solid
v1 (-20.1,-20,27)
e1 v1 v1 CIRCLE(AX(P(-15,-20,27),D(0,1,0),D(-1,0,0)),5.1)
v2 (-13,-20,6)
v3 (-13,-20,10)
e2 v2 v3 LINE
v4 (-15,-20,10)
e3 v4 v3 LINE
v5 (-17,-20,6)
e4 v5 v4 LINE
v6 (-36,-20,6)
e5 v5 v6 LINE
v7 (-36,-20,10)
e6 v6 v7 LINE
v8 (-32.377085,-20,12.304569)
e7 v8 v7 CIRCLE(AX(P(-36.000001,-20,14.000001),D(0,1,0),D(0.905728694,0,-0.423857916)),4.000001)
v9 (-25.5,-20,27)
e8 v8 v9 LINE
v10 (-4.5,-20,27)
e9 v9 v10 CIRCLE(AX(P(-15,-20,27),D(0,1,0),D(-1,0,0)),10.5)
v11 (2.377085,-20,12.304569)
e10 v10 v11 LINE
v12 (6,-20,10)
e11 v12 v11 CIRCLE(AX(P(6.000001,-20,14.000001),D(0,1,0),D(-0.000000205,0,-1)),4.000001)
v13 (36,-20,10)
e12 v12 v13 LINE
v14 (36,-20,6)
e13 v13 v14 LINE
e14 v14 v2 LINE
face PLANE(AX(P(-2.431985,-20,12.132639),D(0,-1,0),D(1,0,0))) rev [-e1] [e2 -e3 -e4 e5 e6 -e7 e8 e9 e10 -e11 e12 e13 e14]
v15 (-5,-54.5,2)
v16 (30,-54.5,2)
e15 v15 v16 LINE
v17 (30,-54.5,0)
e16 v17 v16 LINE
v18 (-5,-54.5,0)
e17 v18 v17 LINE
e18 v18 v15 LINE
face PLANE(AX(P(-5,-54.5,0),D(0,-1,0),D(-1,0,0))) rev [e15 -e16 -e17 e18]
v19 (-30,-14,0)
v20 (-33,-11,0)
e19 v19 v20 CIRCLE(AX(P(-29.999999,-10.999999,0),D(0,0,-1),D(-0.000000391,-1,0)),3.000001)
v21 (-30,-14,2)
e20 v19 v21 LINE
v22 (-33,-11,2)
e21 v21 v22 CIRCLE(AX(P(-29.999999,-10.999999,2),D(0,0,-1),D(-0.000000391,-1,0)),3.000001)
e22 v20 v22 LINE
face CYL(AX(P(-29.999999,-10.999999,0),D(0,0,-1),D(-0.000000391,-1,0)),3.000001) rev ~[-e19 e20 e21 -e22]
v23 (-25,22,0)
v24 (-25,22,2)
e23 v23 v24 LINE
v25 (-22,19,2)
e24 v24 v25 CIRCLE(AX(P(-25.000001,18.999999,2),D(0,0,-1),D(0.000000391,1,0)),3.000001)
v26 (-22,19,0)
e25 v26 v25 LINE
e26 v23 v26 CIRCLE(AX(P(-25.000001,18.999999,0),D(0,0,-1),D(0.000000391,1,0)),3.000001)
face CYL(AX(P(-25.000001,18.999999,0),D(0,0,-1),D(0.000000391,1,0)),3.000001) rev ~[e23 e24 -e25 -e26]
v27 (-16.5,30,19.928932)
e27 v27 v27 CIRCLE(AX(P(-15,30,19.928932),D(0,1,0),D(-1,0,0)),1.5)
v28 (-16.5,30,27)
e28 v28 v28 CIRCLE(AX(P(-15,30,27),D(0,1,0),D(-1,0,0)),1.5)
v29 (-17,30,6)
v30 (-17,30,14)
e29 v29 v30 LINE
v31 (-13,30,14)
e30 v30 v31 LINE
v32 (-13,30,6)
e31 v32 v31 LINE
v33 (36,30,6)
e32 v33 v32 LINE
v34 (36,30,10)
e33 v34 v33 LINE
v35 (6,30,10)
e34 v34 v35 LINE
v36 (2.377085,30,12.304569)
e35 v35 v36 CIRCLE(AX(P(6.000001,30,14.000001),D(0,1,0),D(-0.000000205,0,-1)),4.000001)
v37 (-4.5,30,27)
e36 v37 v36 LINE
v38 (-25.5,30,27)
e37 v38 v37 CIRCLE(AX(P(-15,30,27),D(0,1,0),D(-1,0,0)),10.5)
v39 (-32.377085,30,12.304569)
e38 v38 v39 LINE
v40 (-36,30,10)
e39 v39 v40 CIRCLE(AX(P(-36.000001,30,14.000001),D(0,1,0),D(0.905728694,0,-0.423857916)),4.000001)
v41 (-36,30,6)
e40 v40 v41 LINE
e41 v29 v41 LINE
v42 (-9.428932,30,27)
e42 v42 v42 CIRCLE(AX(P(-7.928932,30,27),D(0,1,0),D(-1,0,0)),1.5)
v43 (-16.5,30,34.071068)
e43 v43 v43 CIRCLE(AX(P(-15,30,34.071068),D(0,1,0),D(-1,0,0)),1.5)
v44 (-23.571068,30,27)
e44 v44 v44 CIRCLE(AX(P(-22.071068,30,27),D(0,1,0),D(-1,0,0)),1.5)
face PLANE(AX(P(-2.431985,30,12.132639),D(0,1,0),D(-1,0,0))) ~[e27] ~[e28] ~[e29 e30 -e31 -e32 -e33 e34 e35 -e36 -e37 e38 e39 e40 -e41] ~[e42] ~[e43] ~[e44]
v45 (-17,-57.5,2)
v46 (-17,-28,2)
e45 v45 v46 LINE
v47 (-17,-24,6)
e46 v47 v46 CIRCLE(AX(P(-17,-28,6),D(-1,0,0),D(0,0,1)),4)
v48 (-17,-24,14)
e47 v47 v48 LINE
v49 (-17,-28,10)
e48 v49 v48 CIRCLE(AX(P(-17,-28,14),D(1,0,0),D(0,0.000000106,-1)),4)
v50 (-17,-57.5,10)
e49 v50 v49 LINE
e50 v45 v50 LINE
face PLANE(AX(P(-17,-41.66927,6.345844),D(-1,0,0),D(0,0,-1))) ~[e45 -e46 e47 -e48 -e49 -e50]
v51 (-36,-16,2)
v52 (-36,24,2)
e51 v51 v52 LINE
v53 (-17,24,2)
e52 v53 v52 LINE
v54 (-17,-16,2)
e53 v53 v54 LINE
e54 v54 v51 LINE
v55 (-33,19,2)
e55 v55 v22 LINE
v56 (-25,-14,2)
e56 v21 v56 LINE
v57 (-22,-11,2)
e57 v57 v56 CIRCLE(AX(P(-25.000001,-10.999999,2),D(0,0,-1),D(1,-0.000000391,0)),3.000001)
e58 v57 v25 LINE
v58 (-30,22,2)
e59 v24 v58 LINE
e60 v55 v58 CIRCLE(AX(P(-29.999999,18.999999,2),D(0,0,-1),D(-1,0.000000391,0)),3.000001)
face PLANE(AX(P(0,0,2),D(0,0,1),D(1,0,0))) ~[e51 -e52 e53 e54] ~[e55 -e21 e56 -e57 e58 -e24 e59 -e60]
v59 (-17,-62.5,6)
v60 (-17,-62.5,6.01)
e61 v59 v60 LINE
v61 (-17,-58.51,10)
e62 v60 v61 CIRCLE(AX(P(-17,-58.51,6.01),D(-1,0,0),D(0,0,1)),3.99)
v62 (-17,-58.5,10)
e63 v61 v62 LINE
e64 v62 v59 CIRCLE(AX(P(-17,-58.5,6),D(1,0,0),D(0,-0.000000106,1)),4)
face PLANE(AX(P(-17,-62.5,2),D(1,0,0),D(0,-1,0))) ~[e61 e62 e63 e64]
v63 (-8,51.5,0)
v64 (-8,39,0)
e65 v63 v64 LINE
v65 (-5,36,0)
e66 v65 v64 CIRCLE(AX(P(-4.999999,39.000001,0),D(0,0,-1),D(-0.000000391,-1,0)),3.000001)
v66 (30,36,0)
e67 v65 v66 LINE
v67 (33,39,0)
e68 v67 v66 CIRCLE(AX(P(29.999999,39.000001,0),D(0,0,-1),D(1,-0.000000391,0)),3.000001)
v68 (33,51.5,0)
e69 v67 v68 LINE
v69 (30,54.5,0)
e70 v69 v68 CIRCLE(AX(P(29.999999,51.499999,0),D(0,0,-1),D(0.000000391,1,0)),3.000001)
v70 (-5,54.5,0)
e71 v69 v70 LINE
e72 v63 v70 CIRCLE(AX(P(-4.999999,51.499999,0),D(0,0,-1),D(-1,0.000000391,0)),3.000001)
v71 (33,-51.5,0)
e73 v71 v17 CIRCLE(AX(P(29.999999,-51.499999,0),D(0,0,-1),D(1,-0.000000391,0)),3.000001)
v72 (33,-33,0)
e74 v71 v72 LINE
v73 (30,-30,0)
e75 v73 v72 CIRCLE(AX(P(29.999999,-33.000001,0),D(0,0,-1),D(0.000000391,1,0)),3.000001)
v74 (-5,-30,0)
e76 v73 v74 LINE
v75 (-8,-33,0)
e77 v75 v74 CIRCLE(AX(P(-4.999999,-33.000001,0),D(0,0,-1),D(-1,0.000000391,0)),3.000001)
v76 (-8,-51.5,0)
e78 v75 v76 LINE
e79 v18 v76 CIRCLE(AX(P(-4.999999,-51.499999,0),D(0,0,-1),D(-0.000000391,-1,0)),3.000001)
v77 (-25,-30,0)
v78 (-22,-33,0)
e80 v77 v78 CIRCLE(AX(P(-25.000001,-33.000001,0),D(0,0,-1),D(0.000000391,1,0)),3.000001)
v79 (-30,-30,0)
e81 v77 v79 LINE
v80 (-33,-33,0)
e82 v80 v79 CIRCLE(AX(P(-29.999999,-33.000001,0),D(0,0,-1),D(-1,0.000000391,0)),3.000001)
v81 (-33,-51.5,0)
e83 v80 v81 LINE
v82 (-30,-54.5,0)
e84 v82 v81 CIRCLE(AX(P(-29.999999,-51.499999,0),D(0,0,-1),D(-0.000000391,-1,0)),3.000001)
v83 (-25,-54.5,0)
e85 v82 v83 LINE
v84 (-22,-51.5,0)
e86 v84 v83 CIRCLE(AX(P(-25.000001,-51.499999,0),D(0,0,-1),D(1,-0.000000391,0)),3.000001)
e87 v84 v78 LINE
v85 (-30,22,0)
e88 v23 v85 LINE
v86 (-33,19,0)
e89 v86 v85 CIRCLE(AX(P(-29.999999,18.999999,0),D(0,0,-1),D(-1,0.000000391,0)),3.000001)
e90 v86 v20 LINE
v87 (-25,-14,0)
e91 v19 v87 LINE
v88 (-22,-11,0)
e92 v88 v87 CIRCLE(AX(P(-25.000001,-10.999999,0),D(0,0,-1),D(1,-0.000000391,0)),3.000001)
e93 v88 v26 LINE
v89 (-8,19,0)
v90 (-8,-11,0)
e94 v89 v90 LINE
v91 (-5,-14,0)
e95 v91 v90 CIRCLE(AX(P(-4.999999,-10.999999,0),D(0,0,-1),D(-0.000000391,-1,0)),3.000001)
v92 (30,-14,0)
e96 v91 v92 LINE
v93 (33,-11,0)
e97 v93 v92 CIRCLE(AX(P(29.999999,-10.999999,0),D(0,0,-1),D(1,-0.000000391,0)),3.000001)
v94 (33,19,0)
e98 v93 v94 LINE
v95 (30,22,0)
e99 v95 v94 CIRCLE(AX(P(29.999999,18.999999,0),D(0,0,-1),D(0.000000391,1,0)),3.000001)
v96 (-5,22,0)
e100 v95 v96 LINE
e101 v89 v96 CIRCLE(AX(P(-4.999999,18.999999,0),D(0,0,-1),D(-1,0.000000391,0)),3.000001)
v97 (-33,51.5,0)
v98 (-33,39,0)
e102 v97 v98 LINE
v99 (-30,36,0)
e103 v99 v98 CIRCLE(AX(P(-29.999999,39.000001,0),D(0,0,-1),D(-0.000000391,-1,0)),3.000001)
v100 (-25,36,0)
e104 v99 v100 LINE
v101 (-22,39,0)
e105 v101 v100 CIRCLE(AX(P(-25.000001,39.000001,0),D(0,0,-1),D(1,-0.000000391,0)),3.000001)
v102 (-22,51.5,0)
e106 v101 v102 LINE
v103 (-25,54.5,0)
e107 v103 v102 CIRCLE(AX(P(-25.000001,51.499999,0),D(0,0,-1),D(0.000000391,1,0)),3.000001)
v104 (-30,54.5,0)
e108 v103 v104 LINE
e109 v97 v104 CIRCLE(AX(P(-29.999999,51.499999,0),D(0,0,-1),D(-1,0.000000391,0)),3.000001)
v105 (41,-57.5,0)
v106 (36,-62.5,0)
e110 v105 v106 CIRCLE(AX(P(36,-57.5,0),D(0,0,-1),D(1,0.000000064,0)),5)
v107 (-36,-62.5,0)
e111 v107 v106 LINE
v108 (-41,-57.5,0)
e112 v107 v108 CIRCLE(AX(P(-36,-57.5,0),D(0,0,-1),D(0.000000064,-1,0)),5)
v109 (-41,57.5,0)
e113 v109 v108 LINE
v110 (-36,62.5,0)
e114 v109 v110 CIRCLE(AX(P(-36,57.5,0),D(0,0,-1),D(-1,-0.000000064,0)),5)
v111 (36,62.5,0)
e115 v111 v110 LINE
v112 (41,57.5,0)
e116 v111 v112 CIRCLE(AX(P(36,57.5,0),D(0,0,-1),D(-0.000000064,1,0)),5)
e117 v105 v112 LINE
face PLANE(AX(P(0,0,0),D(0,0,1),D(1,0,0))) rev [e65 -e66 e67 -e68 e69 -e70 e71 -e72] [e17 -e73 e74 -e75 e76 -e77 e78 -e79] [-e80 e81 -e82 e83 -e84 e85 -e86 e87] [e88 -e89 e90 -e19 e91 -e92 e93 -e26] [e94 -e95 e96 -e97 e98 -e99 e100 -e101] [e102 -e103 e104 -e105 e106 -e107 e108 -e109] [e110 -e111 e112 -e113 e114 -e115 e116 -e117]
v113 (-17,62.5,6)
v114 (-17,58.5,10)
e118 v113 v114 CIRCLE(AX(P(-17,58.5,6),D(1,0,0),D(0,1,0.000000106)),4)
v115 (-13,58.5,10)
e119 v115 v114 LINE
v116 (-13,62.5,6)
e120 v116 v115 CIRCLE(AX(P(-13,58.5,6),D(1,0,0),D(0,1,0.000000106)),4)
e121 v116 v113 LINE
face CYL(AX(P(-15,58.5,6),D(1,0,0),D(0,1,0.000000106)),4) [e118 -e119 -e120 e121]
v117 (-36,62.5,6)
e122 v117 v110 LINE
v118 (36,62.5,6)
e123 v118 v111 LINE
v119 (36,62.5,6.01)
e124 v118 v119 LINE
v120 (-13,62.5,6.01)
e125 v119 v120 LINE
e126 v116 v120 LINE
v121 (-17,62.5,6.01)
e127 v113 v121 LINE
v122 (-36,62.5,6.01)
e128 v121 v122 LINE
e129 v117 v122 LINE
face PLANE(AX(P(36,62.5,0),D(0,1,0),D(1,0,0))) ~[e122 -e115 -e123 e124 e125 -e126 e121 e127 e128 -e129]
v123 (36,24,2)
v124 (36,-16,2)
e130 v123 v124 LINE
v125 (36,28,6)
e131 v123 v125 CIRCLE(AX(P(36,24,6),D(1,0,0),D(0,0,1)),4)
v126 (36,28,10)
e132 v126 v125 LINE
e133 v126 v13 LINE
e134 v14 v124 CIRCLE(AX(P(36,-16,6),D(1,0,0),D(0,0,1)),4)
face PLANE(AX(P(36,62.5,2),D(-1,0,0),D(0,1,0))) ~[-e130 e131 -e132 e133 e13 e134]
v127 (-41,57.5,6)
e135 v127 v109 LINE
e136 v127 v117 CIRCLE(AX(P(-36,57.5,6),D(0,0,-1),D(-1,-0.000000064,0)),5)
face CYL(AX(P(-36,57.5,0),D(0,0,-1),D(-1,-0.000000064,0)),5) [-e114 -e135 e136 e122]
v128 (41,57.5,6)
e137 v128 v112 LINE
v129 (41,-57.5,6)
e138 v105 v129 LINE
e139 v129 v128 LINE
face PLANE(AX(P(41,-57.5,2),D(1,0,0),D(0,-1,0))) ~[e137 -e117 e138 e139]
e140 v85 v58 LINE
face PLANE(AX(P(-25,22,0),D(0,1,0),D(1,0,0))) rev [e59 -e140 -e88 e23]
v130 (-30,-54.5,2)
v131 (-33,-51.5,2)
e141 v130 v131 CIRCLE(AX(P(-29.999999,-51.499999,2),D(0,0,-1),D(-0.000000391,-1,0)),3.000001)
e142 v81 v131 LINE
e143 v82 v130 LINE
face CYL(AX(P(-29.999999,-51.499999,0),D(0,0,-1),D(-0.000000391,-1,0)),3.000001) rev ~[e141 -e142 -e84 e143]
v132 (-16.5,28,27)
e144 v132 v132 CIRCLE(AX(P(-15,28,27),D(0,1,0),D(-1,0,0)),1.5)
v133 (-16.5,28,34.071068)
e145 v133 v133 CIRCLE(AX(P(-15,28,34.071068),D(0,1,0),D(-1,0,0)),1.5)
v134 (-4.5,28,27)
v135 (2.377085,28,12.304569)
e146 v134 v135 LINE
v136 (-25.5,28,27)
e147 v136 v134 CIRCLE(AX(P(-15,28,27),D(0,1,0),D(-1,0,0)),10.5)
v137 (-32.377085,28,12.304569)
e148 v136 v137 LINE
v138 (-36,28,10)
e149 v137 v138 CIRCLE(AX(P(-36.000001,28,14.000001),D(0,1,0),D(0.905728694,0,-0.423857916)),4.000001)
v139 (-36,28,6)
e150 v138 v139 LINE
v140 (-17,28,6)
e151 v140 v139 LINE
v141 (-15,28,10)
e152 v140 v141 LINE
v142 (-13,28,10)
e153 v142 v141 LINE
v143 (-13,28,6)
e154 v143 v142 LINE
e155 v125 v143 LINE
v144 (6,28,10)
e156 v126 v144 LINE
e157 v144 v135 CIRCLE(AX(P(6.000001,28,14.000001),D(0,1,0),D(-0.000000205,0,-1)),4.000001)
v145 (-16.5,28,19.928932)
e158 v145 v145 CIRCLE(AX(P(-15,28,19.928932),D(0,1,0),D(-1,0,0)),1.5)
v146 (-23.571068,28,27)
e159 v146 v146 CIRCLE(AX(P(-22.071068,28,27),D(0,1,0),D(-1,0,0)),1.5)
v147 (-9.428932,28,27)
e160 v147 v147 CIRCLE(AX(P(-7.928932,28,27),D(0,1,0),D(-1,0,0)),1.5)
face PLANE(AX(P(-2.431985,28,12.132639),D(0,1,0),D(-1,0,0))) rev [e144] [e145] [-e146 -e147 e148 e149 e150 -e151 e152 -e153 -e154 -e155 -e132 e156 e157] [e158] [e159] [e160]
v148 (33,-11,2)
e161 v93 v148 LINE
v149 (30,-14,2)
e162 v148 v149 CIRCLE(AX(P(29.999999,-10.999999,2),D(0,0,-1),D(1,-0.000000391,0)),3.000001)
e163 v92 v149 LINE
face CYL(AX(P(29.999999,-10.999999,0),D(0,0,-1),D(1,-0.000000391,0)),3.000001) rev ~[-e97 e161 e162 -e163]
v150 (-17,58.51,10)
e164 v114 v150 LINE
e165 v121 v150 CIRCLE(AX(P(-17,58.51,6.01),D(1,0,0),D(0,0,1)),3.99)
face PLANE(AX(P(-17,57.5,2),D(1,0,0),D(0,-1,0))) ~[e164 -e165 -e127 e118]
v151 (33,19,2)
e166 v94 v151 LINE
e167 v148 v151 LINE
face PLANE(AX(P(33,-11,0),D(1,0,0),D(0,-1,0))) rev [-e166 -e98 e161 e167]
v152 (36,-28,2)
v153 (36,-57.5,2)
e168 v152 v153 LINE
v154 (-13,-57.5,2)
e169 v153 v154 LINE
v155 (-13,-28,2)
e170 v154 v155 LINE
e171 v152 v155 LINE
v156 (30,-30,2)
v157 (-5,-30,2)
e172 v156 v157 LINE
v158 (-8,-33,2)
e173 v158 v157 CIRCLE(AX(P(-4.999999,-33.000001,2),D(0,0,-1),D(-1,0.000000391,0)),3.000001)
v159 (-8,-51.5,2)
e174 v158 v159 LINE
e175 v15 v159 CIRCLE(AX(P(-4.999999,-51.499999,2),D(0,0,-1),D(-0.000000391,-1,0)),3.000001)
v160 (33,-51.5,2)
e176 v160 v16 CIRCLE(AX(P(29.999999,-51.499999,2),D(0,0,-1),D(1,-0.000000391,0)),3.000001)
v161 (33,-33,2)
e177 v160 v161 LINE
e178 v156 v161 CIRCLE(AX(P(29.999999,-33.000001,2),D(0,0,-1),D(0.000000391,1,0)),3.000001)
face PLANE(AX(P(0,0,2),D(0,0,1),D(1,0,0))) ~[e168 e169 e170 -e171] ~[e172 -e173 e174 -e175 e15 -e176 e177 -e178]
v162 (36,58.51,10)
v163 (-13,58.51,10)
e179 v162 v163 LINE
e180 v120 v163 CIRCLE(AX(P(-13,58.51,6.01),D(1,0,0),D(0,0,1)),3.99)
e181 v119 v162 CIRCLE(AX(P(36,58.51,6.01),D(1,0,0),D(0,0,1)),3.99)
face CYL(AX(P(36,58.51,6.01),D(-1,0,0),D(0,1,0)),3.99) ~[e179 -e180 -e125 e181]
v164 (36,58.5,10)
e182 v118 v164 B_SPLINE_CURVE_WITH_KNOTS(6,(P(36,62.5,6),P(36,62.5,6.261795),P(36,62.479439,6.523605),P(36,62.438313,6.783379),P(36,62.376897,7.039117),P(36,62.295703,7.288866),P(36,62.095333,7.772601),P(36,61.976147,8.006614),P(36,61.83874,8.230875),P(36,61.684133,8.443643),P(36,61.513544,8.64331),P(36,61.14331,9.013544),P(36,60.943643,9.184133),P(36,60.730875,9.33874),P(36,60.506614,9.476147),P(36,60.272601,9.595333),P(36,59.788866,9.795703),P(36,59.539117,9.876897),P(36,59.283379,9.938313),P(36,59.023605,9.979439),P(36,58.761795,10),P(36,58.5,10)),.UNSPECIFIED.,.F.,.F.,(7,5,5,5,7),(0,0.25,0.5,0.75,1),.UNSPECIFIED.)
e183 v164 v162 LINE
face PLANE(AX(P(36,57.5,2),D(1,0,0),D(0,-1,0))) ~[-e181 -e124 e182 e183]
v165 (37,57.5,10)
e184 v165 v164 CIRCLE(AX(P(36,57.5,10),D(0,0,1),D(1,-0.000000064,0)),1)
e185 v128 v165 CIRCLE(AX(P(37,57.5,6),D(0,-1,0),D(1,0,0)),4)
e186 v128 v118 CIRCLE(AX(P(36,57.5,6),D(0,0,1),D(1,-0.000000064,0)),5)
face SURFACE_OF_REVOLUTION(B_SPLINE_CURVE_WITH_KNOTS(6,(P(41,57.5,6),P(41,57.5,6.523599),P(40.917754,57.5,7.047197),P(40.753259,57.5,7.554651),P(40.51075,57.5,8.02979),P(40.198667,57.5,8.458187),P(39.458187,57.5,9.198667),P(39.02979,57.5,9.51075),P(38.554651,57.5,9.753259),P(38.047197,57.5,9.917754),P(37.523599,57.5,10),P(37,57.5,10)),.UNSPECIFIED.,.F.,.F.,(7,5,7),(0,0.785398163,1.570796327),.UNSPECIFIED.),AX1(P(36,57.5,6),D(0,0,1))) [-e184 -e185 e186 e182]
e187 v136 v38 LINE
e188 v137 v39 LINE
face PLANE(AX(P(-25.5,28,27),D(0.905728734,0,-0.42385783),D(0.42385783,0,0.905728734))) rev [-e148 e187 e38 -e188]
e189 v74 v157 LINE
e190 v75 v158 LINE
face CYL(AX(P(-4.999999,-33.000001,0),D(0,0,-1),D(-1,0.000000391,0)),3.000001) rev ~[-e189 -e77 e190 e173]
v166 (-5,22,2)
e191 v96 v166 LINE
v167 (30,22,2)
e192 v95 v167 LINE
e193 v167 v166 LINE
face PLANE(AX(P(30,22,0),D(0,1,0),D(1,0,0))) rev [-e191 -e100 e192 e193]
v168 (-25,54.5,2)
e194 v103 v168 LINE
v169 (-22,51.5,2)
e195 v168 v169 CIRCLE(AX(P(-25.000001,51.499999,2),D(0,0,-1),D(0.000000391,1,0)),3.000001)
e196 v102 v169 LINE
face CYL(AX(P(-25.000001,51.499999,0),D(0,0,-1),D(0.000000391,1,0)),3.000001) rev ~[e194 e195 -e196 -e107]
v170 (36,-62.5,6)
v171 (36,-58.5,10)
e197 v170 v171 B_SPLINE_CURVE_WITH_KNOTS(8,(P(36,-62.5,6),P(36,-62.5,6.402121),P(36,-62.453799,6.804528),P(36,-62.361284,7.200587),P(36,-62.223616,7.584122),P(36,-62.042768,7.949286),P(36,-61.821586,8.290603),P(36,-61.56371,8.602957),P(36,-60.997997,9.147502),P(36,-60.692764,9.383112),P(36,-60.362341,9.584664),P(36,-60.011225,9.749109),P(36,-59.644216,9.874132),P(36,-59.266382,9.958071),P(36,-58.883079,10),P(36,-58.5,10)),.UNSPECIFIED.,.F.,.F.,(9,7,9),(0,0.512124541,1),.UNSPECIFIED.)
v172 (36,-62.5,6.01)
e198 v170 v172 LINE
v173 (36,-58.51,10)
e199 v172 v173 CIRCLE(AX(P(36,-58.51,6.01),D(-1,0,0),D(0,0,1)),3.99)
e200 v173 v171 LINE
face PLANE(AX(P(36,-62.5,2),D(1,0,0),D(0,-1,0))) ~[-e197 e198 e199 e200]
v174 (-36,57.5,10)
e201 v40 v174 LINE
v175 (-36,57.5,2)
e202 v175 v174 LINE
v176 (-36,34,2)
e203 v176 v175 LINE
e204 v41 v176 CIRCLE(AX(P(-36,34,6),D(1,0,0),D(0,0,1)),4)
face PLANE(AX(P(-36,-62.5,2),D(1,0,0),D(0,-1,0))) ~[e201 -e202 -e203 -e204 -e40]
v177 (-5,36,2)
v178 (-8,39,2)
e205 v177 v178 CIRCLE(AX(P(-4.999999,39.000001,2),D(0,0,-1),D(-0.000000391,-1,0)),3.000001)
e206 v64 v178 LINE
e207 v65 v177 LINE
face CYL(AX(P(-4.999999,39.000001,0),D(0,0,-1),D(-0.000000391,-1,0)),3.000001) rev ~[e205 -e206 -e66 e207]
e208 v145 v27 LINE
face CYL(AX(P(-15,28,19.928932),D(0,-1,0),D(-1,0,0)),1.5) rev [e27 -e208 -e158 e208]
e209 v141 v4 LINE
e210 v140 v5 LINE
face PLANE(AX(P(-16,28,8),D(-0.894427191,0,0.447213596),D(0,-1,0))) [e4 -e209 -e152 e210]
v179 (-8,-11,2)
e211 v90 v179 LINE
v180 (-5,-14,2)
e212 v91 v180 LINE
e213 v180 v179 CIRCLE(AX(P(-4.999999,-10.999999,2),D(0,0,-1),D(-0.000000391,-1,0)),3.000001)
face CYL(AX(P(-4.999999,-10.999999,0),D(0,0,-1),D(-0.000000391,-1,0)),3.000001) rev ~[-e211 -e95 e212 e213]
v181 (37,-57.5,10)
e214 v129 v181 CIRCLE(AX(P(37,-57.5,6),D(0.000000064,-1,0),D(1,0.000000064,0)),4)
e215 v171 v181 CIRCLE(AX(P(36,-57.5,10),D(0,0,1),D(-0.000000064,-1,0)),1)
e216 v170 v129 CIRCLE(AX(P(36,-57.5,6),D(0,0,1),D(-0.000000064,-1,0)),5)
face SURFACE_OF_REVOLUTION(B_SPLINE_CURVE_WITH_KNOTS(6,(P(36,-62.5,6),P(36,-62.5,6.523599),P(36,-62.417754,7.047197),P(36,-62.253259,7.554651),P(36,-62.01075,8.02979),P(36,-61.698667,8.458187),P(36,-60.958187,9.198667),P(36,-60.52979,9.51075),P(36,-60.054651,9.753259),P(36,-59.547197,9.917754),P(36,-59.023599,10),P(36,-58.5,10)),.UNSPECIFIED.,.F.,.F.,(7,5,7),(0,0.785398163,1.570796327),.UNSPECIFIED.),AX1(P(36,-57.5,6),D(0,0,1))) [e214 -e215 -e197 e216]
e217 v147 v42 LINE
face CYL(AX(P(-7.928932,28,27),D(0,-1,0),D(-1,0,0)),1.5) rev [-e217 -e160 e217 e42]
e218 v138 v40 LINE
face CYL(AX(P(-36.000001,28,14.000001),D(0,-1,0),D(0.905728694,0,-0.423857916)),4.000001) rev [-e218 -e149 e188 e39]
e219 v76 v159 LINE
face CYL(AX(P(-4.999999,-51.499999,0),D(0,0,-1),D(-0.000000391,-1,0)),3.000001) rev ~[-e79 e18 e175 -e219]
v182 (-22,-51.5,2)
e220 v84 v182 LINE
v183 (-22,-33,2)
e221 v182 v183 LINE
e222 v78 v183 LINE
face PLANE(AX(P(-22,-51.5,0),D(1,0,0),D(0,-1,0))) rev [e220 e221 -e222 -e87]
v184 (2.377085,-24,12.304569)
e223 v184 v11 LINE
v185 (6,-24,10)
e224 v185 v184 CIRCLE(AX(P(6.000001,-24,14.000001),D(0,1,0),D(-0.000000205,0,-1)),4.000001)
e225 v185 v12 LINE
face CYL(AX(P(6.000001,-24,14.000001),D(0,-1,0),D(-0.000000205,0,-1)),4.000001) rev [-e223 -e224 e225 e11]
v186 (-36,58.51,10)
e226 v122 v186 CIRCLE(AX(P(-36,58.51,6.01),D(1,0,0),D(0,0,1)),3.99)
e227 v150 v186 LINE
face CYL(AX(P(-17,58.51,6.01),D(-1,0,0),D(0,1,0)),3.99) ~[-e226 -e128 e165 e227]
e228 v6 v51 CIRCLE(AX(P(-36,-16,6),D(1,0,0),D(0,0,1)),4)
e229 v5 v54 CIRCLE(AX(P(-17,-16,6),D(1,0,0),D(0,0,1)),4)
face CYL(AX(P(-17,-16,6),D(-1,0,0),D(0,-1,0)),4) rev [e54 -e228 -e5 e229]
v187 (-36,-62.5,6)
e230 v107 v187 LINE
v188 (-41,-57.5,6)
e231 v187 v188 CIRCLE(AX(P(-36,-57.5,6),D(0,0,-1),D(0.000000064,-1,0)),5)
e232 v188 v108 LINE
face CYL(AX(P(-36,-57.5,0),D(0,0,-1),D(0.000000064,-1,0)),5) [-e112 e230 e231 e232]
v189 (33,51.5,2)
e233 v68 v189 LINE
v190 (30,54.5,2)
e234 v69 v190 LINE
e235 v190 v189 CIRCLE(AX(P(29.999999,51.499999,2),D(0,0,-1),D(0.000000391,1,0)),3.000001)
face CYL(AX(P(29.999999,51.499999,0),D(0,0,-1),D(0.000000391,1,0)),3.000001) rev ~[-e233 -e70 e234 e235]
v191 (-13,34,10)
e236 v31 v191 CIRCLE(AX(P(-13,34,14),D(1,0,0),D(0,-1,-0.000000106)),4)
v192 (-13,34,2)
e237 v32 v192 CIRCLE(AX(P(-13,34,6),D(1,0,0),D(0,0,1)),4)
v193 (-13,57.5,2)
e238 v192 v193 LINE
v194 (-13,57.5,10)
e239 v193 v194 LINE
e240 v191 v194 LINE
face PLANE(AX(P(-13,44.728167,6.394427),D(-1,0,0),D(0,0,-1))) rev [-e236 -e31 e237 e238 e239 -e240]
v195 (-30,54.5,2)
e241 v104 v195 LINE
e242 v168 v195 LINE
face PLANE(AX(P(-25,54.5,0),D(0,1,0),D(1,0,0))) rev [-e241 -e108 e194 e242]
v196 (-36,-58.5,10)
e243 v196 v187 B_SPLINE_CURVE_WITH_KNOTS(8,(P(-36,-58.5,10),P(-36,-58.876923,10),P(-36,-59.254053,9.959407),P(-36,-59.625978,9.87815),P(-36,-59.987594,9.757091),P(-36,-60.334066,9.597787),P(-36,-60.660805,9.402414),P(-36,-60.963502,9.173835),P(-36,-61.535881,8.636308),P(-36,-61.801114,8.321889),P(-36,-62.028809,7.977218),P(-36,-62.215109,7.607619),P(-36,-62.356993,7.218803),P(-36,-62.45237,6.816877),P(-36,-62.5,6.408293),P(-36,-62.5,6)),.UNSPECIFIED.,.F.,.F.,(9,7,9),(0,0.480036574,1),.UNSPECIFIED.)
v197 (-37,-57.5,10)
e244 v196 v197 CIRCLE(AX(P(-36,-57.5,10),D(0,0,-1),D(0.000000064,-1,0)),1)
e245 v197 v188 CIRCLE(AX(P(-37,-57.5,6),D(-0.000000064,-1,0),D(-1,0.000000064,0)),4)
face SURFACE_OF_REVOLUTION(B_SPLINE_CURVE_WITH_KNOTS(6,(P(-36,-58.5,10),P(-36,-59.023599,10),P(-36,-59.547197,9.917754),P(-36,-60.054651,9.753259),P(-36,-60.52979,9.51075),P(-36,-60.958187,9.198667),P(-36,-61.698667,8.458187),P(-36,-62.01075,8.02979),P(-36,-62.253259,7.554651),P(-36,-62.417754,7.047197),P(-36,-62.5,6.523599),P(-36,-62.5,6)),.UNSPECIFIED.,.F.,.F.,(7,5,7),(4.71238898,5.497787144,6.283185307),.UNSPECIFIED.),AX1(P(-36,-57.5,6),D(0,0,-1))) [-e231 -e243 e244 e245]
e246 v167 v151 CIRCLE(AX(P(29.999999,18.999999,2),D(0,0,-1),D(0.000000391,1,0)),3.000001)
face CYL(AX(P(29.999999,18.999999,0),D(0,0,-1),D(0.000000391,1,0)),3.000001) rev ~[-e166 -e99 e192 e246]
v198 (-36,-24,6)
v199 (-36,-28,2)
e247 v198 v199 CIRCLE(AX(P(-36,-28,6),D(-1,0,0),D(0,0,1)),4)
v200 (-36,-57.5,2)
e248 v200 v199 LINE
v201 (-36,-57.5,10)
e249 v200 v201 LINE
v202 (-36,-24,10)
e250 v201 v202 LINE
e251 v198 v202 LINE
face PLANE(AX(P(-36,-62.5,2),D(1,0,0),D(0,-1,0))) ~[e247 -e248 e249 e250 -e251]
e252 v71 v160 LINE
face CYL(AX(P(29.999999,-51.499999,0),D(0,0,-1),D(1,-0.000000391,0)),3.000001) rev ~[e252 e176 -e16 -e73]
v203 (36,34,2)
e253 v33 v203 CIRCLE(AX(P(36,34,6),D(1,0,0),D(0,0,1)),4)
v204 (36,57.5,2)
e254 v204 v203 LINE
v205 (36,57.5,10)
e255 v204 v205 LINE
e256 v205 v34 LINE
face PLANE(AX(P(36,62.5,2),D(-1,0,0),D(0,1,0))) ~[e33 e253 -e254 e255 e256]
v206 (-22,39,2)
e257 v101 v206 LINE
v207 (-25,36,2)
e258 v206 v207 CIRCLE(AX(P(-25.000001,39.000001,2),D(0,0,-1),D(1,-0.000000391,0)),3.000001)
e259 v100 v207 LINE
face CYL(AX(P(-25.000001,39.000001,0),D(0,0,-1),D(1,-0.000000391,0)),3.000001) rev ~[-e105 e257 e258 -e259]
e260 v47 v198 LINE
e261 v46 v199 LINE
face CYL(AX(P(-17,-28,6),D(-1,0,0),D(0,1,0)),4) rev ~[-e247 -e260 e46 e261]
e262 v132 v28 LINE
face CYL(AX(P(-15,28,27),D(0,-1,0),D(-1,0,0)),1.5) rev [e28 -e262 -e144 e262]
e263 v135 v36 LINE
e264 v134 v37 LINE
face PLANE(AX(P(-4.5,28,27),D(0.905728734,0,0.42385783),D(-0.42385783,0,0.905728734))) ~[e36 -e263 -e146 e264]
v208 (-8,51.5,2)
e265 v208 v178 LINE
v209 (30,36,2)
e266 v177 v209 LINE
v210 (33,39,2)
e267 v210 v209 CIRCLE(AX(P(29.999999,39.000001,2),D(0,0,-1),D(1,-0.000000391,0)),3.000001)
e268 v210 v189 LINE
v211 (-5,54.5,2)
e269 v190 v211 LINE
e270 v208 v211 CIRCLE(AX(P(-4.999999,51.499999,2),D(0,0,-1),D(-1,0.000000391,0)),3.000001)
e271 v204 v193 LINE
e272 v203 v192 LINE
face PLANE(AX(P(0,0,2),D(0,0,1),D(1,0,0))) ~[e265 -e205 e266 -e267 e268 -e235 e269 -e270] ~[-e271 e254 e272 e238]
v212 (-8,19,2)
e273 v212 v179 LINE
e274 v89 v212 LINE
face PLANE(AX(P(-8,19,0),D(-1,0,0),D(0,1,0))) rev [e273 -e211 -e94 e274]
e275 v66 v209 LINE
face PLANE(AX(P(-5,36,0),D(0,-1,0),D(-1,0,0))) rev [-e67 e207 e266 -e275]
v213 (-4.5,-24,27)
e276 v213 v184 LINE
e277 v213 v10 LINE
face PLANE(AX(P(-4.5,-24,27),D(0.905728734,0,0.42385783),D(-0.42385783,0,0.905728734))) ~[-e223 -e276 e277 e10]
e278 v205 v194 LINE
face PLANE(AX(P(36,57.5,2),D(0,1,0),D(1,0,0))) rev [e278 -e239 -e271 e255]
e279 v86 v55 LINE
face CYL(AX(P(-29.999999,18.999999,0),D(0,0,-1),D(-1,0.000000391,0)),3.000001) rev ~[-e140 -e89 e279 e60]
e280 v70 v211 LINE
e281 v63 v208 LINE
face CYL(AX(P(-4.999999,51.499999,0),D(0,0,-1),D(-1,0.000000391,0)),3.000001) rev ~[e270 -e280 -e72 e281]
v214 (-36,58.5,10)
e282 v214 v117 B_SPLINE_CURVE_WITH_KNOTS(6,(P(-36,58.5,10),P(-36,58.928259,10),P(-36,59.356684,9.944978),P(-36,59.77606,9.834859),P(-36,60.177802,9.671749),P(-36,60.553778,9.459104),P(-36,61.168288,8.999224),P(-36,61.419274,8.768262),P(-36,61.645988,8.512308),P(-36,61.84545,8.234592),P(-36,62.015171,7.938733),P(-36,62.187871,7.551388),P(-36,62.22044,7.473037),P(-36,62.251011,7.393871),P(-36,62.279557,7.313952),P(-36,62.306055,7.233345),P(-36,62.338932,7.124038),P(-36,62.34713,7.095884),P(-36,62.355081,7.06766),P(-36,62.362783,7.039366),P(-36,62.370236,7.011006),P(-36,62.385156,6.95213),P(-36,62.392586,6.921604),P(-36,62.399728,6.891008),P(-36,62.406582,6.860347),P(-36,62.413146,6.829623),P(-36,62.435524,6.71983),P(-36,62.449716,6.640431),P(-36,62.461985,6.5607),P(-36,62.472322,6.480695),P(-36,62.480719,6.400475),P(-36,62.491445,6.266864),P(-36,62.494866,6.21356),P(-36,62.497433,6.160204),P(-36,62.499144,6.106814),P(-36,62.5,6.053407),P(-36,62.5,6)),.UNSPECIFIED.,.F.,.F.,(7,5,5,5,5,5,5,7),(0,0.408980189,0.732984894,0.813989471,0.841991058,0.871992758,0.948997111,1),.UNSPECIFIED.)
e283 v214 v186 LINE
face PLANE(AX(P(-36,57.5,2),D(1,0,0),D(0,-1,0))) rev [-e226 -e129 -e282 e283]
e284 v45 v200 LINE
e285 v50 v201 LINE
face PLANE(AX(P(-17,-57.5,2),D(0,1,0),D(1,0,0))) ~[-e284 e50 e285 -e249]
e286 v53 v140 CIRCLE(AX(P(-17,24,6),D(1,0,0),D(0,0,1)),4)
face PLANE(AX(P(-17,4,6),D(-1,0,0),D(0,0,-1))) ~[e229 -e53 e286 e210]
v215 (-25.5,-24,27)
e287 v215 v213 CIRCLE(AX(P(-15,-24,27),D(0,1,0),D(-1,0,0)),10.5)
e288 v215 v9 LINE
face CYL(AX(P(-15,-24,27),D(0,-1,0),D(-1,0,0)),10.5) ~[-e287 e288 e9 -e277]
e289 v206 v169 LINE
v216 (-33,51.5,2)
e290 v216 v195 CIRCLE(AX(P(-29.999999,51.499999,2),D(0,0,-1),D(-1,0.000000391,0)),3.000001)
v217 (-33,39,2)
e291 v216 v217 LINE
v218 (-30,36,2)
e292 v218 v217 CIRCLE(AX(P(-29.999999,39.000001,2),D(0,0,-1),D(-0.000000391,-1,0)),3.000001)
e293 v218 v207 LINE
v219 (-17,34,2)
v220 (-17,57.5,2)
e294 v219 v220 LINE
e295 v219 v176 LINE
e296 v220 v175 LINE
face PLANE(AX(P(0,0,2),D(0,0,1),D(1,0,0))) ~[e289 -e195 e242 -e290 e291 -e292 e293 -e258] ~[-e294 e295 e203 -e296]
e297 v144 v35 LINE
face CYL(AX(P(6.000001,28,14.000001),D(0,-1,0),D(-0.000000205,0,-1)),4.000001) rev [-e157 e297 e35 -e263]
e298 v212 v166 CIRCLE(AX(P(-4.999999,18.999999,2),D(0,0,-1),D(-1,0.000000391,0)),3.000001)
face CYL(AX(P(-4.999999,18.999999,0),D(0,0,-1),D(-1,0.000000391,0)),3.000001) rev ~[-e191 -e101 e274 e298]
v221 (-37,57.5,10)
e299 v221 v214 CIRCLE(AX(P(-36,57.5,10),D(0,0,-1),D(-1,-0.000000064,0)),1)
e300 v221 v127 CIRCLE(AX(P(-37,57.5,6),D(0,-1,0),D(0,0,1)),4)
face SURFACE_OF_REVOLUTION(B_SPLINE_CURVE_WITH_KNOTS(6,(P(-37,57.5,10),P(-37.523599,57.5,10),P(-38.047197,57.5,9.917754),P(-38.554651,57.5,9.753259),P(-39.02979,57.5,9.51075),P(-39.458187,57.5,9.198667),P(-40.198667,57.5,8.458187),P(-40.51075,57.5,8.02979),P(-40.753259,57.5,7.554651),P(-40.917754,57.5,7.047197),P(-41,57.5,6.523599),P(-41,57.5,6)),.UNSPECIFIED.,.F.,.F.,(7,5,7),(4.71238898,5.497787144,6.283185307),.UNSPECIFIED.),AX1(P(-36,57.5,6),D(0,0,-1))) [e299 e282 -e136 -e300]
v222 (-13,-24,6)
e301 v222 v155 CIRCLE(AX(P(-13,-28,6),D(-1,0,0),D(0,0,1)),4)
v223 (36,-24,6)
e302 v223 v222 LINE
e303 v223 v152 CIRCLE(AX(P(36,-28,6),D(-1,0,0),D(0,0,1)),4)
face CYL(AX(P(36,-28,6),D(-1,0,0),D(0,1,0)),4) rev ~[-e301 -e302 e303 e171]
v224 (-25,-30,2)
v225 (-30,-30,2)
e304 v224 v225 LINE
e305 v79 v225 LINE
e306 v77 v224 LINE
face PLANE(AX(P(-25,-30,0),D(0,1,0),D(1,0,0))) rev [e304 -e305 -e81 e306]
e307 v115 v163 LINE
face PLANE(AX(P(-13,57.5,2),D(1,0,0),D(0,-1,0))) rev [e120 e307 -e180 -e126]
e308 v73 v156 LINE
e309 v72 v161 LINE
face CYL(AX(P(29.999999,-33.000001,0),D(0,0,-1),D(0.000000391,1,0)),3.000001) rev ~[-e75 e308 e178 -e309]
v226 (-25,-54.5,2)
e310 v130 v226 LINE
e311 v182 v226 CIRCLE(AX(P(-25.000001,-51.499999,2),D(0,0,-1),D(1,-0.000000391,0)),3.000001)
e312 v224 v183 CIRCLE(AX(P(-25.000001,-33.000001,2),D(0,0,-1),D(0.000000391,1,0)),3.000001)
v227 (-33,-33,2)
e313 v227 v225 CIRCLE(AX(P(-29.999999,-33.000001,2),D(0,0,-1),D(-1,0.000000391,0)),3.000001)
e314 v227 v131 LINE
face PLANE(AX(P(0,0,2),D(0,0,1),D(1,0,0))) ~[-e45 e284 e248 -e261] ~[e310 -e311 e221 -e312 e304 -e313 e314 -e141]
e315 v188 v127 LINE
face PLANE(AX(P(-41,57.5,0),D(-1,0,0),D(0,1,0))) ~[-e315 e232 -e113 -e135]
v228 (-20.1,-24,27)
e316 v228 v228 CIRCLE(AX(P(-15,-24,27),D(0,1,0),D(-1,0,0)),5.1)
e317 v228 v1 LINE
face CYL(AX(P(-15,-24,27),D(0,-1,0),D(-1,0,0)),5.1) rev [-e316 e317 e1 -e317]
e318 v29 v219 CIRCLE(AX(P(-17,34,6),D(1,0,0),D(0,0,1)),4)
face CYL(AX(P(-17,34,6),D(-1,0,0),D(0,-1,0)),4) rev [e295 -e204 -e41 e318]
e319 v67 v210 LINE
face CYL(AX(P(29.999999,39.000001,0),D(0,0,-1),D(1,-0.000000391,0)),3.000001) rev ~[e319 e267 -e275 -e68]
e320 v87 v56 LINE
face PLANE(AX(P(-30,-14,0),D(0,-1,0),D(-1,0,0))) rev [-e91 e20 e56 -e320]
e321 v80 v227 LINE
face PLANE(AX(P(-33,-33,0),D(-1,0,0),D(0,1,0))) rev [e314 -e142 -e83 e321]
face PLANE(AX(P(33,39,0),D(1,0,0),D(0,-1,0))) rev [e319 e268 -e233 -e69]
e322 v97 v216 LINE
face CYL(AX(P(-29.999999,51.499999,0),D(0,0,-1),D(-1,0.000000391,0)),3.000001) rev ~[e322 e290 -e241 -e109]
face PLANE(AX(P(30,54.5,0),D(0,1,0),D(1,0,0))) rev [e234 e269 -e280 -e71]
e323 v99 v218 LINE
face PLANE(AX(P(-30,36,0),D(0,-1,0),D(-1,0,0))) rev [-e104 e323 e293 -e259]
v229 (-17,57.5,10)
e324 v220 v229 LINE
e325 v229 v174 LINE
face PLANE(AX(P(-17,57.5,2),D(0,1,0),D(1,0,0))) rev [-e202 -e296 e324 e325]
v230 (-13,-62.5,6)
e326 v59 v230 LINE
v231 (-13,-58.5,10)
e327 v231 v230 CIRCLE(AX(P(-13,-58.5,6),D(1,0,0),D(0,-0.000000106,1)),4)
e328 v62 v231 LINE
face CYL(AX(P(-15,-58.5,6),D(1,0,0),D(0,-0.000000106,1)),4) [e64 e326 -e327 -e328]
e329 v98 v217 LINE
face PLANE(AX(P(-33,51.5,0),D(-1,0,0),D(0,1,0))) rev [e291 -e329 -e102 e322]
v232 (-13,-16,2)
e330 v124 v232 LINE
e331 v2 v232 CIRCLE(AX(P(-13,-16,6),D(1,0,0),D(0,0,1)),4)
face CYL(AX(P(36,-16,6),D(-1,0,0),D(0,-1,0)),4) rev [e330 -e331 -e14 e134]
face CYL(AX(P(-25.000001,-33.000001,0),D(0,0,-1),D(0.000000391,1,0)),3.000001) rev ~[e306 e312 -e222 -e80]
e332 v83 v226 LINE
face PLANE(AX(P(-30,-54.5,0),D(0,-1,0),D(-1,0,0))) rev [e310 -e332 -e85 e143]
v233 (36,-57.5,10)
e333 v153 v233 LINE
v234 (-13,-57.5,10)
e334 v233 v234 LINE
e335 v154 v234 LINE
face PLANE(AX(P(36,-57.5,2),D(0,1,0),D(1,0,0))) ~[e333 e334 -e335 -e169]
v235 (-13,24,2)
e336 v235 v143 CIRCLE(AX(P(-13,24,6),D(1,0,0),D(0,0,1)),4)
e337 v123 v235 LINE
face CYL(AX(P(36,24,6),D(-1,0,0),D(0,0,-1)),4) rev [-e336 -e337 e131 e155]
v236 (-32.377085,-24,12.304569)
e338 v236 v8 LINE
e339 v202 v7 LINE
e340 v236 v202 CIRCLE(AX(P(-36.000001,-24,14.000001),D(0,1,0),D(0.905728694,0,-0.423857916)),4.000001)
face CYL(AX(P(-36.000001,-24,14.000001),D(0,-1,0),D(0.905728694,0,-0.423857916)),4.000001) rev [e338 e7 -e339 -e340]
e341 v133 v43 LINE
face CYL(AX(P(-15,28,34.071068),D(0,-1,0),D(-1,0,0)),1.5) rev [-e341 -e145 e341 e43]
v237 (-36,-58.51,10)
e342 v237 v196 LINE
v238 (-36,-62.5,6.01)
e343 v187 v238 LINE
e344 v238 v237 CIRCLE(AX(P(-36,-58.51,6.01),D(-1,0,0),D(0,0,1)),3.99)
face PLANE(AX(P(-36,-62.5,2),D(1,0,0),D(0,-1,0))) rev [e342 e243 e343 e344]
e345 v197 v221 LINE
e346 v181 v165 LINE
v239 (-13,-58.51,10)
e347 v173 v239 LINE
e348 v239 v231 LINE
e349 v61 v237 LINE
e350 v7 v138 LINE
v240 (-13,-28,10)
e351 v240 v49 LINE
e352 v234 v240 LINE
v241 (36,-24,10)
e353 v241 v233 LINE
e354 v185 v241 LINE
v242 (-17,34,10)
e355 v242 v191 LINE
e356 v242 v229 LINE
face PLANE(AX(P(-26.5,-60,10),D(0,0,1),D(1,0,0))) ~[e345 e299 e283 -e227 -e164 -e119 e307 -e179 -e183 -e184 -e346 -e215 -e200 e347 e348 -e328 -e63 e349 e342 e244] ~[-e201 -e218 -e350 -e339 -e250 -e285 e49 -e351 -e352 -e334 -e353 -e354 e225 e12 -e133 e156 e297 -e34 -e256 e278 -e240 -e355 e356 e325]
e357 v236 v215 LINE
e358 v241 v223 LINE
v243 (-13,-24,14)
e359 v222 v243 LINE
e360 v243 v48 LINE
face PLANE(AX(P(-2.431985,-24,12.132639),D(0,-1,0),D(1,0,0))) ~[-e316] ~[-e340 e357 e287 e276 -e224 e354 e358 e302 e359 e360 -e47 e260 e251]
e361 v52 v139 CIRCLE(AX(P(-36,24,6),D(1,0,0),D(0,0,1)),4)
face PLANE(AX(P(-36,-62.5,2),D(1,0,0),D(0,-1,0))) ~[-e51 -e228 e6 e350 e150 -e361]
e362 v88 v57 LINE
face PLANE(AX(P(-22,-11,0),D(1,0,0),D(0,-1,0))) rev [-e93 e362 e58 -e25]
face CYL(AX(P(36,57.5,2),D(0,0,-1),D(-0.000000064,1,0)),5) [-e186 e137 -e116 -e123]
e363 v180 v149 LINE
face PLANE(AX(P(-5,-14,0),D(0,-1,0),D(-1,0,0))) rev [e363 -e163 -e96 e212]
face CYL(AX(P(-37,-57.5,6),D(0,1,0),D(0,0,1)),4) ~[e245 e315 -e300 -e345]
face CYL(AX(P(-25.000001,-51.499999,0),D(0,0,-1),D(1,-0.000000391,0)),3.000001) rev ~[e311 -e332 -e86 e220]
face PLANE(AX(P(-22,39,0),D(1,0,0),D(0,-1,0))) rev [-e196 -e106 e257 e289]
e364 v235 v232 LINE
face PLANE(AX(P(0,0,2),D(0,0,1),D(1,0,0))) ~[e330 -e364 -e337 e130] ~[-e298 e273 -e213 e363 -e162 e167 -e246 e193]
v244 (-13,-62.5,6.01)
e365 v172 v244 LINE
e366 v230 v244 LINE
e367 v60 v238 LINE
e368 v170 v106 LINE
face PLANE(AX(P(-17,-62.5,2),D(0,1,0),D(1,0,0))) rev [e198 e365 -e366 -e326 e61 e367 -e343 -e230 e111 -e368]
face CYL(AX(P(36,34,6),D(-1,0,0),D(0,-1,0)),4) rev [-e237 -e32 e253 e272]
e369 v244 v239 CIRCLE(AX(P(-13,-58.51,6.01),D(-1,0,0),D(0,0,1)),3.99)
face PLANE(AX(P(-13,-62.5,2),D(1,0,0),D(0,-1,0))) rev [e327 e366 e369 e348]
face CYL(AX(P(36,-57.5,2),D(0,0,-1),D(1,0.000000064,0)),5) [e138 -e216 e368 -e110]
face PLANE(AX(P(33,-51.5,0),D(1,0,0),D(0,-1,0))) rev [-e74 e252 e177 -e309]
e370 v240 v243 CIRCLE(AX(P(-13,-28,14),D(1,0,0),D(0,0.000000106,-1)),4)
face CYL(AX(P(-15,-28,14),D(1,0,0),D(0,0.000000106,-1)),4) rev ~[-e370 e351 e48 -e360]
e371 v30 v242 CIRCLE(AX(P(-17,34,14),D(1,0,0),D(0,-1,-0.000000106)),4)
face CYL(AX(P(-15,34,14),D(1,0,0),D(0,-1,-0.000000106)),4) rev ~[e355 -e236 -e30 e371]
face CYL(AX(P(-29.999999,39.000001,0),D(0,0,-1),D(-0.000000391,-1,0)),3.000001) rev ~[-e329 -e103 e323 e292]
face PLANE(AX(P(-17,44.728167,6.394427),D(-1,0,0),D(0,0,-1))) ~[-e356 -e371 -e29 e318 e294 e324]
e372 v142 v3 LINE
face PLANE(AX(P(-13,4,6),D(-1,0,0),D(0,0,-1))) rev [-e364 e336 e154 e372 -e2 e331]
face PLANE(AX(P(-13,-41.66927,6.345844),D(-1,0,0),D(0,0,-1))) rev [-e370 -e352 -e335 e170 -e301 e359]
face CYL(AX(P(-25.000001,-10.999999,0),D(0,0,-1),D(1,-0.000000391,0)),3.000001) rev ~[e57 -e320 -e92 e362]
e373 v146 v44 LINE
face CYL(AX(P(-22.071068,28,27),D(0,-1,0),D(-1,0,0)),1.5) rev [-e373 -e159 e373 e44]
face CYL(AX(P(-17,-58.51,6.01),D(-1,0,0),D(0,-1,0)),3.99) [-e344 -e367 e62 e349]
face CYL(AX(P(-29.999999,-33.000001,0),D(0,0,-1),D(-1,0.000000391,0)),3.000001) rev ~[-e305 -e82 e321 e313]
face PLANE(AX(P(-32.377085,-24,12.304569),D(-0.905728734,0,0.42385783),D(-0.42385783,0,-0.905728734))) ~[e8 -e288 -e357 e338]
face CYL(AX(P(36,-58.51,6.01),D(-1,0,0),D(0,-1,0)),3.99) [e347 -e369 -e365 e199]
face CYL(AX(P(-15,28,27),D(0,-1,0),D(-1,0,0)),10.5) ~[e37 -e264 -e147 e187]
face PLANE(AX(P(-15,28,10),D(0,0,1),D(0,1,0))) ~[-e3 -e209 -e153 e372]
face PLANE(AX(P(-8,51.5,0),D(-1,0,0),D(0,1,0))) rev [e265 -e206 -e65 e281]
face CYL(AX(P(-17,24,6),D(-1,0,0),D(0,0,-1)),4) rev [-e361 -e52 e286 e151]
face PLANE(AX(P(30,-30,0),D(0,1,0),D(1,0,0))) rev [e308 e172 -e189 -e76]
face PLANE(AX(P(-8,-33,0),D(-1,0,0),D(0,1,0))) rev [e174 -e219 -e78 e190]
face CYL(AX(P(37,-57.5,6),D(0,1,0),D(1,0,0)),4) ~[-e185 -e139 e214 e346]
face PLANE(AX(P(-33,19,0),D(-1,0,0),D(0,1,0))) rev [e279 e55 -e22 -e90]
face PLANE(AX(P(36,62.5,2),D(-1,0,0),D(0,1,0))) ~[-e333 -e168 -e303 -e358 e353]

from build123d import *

# Parameters (mm, degrees)
PAD_DEPTH     = 2
SKETCH001_R   = 5.1
PAD001_DEPTH  = 4
SKETCH002_R   = 1.5
PAD002_DEPTH  = 2
SKETCH003_W   = 8
SKETCH003_H   = 48
PAD003_DEPTH  = 2
PAD004_DEPTH  = 8
FILLET_R      = 4
SKETCH005_W   = 19
SKETCH005_H   = 5
SKETCH005_W_2 = 49
PAD005_DEPTH  = 8
FILLET001_R   = 3.99
CHAMFER_SIZE2 = 2
CHAMFER_SIZE  = 4
FILLET002_R   = 4


with BuildPart() as body:
    # Sketch → Pad (new body)
    with BuildSketch(Plane.XY):
        with BuildLine():
            ThreePointArc((-36, 62.5), (-39.535534, 61.035534), (-41, 57.5))
            Line((-41, -57.5), (-41, 57.5))
            ThreePointArc((-41, -57.5), (-39.535534, -61.035534), (-36, -62.5))
            Line((36, -62.5), (-36, -62.5))
            ThreePointArc((36, -62.5), (39.535534, -61.035534), (41, -57.5))
            Line((41, 57.5), (41, -57.5))
            ThreePointArc((41, 57.5), (39.535534, 61.035534), (36, 62.5))
            Line((-36, 62.5), (36, 62.5))
        make_face()
        with BuildLine():
            ThreePointArc((-30, 54.5), (-32.12132, 53.62132), (-33, 51.5))
            Line((-33, 39), (-33, 51.5))
            ThreePointArc((-33, 39), (-32.12132, 36.87868), (-30, 36))
            Line((5, 36), (-30, 36))
            ThreePointArc((5, 36), (7.12132, 36.87868), (8, 39))
            Line((8, 51.5), (8, 39))
            ThreePointArc((8, 51.5), (7.12132, 53.62132), (5, 54.5))
            Line((-30, 54.5), (5, 54.5))
        make_face(mode=Mode.SUBTRACT)
        with BuildLine():
            ThreePointArc((25, 54.5), (22.87868, 53.62132), (22, 51.5))
            Line((22, 39), (22, 51.5))
            ThreePointArc((22, 39), (22.87868, 36.87868), (25, 36))
            Line((30, 36), (25, 36))
            ThreePointArc((30, 36), (32.12132, 36.87868), (33, 39))
            Line((33, 51.5), (33, 39))
            ThreePointArc((33, 51.5), (32.12132, 53.62132), (30, 54.5))
            Line((25, 54.5), (30, 54.5))
        make_face(mode=Mode.SUBTRACT)
        with BuildLine():
            ThreePointArc((-30, 22), (-32.12132, 21.12132), (-33, 19))
            Line((-33, -11), (-33, 19))
            ThreePointArc((-33, -11), (-32.12132, -13.12132), (-30, -14))
            Line((5, -14), (-30, -14))
            ThreePointArc((5, -14), (7.12132, -13.12132), (8, -11))
            Line((8, 19), (8, -11))
            ThreePointArc((8, 19), (7.12132, 21.12132), (5, 22))
            Line((-30, 22), (5, 22))
        make_face(mode=Mode.SUBTRACT)
        with BuildLine():
            ThreePointArc((25, 22), (22.87868, 21.12132), (22, 19))
            Line((22, -11), (22, 19))
            ThreePointArc((22, -11), (22.87868, -13.12132), (25, -14))
            Line((30, -14), (25, -14))
            ThreePointArc((30, -14), (32.12132, -13.12132), (33, -11))
            Line((33, 19), (33, -11))
            ThreePointArc((33, 19), (32.12132, 21.12132), (30, 22))
            Line((25, 22), (30, 22))
        make_face(mode=Mode.SUBTRACT)
        with BuildLine():
            ThreePointArc((-30, -30), (-32.12132, -30.87868), (-33, -33))
            Line((-33, -51.5), (-33, -33))
            ThreePointArc((-33, -51.5), (-32.12132, -53.62132), (-30, -54.5))
            Line((5, -54.5), (-30, -54.5))
            ThreePointArc((5, -54.5), (7.12132, -53.62132), (8, -51.5))
            Line((8, -33), (8, -51.5))
            ThreePointArc((8, -33), (7.12132, -30.87868), (5, -30))
            Line((-30, -30), (5, -30))
        make_face(mode=Mode.SUBTRACT)
        with BuildLine():
            ThreePointArc((25, -30), (22.87868, -30.87868), (22, -33))
            Line((22, -51.5), (22, -33))
            ThreePointArc((22, -51.5), (22.87868, -53.62132), (25, -54.5))
            Line((30, -54.5), (25, -54.5))
            ThreePointArc((30, -54.5), (32.12132, -53.62132), (33, -51.5))
            Line((33, -33), (33, -51.5))
            ThreePointArc((33, -33), (32.12132, -30.87868), (30, -30))
            Line((25, -30), (30, -30))
        make_face(mode=Mode.SUBTRACT)
    extrude(amount=PAD_DEPTH)

    # Sketch001 (on DatumPlane) → Pad001 (join)
    with BuildSketch(Plane.XZ.offset(24)):
        with BuildLine():
            Line((36, 2), (36, 10))
            ThreePointArc((32.377085, 12.304569), (33.85311, 10.624965), (36, 10))
            Line((32.377085, 12.304569), (25.5, 27))
            ThreePointArc((25.5, 27), (15, 37.5), (4.5, 27))
            Line((4.5, 27), (-2.377085, 12.304569))
            ThreePointArc((-6, 10), (-3.85311, 10.624965), (-2.377085, 12.304569))
            Line((-6, 10), (-36, 10))
            Line((-36, 10), (-36, 2))
            Line((-36, 2), (36, 2))
        make_face()
        with Locations((15, 27)):
            Circle(SKETCH001_R, mode=Mode.SUBTRACT)
    extrude(amount=-PAD001_DEPTH)

    # Sketch002 (on DatumPlane) → Pad002 (join)
    with BuildSketch(Plane.XZ.offset(-28)):
        with BuildLine():
            Line((-36, 10), (-6, 10))
            ThreePointArc((-6, 10), (-3.85311, 10.624965), (-2.377085, 12.304569))
            Line((4.5, 27), (-2.377085, 12.304569))
            ThreePointArc((25.5, 27), (15, 37.5), (4.5, 27))
            Line((25.5, 27), (32.377085, 12.304569))
            ThreePointArc((32.377085, 12.304569), (33.85311, 10.624965), (36, 10))
            Line((36, 10), (36, 2))
            Line((-36, 2), (36, 2))
            Line((-36, 10), (-36, 2))
        make_face()
        with Locations((7.928932, 27)):
            Circle(SKETCH002_R, mode=Mode.SUBTRACT)
        with Locations((15, 34.071068)):
            Circle(SKETCH002_R, mode=Mode.SUBTRACT)
        with Locations((15, 27)):
            Circle(SKETCH002_R, mode=Mode.SUBTRACT)
        with Locations((22.071068, 27)):
            Circle(SKETCH002_R, mode=Mode.SUBTRACT)
        with Locations((15, 19.928932)):
            Circle(SKETCH002_R, mode=Mode.SUBTRACT)
    extrude(amount=-PAD002_DEPTH)

    # Sketch003 (on DatumPlane) → Pad003 (join, symmetric)
    with BuildSketch(Plane(origin=(15, -24, 26), x_dir=(0, 0, 1), z_dir=(1, 0, 0))):
        with BuildLine():
            Line((-24, -54), (-24, -86.5))
            Line((-24, -86.5), (-20, -86.5))
            ThreePointArc((-20, -86.5), (-17.171573, -85.328427), (-16, -82.5))
            Line((-16, -58), (-16, -82.5))
            ThreePointArc((-12, -54), (-14.828427, -55.171573), (-16, -58))
            Line((-24, -54), (-12, -54))
        make_face()
        with BuildLine():
            Line((-24, 38.5), (-24, 0))
            Line((-24, 0), (-12, 0))
            ThreePointArc((-16, 4), (-14.828427, 1.171573), (-12, 0))
            Line((-16, 34.5), (-16, 4))
            ThreePointArc((-16, 34.5), (-17.171573, 37.328427), (-20, 38.5))
            Line((-24, 38.5), (-20, 38.5))
        make_face()
        with Locations((-20, -28)):
            Rectangle(SKETCH003_W, SKETCH003_H)
    extrude(amount=PAD003_DEPTH, both=True)

    # Sketch004 (on Face8 of Pad003) → Pad004 (join)
    with BuildSketch(Plane.XY.offset(2)):
        with BuildLine():
            Line((-41, -57.5), (-41, 57.5))
            ThreePointArc((-36, 62.5), (-39.535534, 61.035534), (-41, 57.5))
            Line((-36, 62.5), (-36, -62.5))
            ThreePointArc((-41, -57.5), (-39.535534, -61.035534), (-36, -62.5))
        make_face()
        with BuildLine():
            Line((41, -57.5), (41, 57.5))
            ThreePointArc((41, 57.5), (39.535534, 61.035534), (36, 62.5))
            Line((36, -62.5), (36, 62.5))
            ThreePointArc((36, -62.5), (39.535534, -61.035534), (41, -57.5))
        make_face()
    extrude(amount=PAD004_DEPTH)

    # Fillet
    fillet_edges = [body.edges().sort_by_distance(p)[0] for p in [
        (41, 0, 10),
        (-41, 0, 10),
    ]]
    fillet(fillet_edges, radius=FILLET_R)

    # Sketch005 (on Face99 of Fillet) → Pad005 (join)
    with BuildSketch(Plane.XY.offset(2)):
        with Locations((26.5, -60)):
            Rectangle(SKETCH005_W, SKETCH005_H)
        with Locations((-11.5, -60)):
            Rectangle(SKETCH005_W_2, SKETCH005_H)
        with Locations((26.5, 60)):
            Rectangle(SKETCH005_W, SKETCH005_H)
        with Locations((-11.5, 60)):
            Rectangle(SKETCH005_W_2, SKETCH005_H)
    extrude(amount=PAD005_DEPTH)

    # Fillet001
    fillet001_edges = [body.edges().sort_by_distance(p)[0] for p in [
        (-11.5, 62.5, 10),
        (26.5, 62.5, 10),
        (-11.5, -62.5, 10),
        (26.5, -62.5, 10),
    ]]
    fillet(fillet001_edges, radius=FILLET001_R)

    # Chamfer
    chamfer_edges = [body.edges().sort_by_distance(p)[0] for p in [
        (17, 4, 10),
    ]]
    chamfer_side = body.faces().sort_by_distance((17, 4, 6))[0]
    chamfer(chamfer_edges, length=CHAMFER_SIZE, length2=CHAMFER_SIZE2, reference=chamfer_side)

    # Fillet002
    fillet002_edges = [body.edges().sort_by_distance(p)[0] for p in [
        (-11.5, -24, 2),
        (26.5, -24, 2),
        (26.5, 28, 2),
        (-11.5, 28, 2),
        (26.5, 30, 2),
        (-11.5, 30, 2),
        (-11.5, -20, 2),
        (26.5, -20, 2),
    ]]
    fillet(fillet002_edges, radius=FILLET002_R)


with BuildPart() as part_mirroring:
    # Part__Mirroring: instance of Body
    add(body.part.mirror(Plane(origin=(0, 0, 0), x_dir=(0, -1, 0), z_dir=(1, 0, 0))))


solid = part_mirroring.part
